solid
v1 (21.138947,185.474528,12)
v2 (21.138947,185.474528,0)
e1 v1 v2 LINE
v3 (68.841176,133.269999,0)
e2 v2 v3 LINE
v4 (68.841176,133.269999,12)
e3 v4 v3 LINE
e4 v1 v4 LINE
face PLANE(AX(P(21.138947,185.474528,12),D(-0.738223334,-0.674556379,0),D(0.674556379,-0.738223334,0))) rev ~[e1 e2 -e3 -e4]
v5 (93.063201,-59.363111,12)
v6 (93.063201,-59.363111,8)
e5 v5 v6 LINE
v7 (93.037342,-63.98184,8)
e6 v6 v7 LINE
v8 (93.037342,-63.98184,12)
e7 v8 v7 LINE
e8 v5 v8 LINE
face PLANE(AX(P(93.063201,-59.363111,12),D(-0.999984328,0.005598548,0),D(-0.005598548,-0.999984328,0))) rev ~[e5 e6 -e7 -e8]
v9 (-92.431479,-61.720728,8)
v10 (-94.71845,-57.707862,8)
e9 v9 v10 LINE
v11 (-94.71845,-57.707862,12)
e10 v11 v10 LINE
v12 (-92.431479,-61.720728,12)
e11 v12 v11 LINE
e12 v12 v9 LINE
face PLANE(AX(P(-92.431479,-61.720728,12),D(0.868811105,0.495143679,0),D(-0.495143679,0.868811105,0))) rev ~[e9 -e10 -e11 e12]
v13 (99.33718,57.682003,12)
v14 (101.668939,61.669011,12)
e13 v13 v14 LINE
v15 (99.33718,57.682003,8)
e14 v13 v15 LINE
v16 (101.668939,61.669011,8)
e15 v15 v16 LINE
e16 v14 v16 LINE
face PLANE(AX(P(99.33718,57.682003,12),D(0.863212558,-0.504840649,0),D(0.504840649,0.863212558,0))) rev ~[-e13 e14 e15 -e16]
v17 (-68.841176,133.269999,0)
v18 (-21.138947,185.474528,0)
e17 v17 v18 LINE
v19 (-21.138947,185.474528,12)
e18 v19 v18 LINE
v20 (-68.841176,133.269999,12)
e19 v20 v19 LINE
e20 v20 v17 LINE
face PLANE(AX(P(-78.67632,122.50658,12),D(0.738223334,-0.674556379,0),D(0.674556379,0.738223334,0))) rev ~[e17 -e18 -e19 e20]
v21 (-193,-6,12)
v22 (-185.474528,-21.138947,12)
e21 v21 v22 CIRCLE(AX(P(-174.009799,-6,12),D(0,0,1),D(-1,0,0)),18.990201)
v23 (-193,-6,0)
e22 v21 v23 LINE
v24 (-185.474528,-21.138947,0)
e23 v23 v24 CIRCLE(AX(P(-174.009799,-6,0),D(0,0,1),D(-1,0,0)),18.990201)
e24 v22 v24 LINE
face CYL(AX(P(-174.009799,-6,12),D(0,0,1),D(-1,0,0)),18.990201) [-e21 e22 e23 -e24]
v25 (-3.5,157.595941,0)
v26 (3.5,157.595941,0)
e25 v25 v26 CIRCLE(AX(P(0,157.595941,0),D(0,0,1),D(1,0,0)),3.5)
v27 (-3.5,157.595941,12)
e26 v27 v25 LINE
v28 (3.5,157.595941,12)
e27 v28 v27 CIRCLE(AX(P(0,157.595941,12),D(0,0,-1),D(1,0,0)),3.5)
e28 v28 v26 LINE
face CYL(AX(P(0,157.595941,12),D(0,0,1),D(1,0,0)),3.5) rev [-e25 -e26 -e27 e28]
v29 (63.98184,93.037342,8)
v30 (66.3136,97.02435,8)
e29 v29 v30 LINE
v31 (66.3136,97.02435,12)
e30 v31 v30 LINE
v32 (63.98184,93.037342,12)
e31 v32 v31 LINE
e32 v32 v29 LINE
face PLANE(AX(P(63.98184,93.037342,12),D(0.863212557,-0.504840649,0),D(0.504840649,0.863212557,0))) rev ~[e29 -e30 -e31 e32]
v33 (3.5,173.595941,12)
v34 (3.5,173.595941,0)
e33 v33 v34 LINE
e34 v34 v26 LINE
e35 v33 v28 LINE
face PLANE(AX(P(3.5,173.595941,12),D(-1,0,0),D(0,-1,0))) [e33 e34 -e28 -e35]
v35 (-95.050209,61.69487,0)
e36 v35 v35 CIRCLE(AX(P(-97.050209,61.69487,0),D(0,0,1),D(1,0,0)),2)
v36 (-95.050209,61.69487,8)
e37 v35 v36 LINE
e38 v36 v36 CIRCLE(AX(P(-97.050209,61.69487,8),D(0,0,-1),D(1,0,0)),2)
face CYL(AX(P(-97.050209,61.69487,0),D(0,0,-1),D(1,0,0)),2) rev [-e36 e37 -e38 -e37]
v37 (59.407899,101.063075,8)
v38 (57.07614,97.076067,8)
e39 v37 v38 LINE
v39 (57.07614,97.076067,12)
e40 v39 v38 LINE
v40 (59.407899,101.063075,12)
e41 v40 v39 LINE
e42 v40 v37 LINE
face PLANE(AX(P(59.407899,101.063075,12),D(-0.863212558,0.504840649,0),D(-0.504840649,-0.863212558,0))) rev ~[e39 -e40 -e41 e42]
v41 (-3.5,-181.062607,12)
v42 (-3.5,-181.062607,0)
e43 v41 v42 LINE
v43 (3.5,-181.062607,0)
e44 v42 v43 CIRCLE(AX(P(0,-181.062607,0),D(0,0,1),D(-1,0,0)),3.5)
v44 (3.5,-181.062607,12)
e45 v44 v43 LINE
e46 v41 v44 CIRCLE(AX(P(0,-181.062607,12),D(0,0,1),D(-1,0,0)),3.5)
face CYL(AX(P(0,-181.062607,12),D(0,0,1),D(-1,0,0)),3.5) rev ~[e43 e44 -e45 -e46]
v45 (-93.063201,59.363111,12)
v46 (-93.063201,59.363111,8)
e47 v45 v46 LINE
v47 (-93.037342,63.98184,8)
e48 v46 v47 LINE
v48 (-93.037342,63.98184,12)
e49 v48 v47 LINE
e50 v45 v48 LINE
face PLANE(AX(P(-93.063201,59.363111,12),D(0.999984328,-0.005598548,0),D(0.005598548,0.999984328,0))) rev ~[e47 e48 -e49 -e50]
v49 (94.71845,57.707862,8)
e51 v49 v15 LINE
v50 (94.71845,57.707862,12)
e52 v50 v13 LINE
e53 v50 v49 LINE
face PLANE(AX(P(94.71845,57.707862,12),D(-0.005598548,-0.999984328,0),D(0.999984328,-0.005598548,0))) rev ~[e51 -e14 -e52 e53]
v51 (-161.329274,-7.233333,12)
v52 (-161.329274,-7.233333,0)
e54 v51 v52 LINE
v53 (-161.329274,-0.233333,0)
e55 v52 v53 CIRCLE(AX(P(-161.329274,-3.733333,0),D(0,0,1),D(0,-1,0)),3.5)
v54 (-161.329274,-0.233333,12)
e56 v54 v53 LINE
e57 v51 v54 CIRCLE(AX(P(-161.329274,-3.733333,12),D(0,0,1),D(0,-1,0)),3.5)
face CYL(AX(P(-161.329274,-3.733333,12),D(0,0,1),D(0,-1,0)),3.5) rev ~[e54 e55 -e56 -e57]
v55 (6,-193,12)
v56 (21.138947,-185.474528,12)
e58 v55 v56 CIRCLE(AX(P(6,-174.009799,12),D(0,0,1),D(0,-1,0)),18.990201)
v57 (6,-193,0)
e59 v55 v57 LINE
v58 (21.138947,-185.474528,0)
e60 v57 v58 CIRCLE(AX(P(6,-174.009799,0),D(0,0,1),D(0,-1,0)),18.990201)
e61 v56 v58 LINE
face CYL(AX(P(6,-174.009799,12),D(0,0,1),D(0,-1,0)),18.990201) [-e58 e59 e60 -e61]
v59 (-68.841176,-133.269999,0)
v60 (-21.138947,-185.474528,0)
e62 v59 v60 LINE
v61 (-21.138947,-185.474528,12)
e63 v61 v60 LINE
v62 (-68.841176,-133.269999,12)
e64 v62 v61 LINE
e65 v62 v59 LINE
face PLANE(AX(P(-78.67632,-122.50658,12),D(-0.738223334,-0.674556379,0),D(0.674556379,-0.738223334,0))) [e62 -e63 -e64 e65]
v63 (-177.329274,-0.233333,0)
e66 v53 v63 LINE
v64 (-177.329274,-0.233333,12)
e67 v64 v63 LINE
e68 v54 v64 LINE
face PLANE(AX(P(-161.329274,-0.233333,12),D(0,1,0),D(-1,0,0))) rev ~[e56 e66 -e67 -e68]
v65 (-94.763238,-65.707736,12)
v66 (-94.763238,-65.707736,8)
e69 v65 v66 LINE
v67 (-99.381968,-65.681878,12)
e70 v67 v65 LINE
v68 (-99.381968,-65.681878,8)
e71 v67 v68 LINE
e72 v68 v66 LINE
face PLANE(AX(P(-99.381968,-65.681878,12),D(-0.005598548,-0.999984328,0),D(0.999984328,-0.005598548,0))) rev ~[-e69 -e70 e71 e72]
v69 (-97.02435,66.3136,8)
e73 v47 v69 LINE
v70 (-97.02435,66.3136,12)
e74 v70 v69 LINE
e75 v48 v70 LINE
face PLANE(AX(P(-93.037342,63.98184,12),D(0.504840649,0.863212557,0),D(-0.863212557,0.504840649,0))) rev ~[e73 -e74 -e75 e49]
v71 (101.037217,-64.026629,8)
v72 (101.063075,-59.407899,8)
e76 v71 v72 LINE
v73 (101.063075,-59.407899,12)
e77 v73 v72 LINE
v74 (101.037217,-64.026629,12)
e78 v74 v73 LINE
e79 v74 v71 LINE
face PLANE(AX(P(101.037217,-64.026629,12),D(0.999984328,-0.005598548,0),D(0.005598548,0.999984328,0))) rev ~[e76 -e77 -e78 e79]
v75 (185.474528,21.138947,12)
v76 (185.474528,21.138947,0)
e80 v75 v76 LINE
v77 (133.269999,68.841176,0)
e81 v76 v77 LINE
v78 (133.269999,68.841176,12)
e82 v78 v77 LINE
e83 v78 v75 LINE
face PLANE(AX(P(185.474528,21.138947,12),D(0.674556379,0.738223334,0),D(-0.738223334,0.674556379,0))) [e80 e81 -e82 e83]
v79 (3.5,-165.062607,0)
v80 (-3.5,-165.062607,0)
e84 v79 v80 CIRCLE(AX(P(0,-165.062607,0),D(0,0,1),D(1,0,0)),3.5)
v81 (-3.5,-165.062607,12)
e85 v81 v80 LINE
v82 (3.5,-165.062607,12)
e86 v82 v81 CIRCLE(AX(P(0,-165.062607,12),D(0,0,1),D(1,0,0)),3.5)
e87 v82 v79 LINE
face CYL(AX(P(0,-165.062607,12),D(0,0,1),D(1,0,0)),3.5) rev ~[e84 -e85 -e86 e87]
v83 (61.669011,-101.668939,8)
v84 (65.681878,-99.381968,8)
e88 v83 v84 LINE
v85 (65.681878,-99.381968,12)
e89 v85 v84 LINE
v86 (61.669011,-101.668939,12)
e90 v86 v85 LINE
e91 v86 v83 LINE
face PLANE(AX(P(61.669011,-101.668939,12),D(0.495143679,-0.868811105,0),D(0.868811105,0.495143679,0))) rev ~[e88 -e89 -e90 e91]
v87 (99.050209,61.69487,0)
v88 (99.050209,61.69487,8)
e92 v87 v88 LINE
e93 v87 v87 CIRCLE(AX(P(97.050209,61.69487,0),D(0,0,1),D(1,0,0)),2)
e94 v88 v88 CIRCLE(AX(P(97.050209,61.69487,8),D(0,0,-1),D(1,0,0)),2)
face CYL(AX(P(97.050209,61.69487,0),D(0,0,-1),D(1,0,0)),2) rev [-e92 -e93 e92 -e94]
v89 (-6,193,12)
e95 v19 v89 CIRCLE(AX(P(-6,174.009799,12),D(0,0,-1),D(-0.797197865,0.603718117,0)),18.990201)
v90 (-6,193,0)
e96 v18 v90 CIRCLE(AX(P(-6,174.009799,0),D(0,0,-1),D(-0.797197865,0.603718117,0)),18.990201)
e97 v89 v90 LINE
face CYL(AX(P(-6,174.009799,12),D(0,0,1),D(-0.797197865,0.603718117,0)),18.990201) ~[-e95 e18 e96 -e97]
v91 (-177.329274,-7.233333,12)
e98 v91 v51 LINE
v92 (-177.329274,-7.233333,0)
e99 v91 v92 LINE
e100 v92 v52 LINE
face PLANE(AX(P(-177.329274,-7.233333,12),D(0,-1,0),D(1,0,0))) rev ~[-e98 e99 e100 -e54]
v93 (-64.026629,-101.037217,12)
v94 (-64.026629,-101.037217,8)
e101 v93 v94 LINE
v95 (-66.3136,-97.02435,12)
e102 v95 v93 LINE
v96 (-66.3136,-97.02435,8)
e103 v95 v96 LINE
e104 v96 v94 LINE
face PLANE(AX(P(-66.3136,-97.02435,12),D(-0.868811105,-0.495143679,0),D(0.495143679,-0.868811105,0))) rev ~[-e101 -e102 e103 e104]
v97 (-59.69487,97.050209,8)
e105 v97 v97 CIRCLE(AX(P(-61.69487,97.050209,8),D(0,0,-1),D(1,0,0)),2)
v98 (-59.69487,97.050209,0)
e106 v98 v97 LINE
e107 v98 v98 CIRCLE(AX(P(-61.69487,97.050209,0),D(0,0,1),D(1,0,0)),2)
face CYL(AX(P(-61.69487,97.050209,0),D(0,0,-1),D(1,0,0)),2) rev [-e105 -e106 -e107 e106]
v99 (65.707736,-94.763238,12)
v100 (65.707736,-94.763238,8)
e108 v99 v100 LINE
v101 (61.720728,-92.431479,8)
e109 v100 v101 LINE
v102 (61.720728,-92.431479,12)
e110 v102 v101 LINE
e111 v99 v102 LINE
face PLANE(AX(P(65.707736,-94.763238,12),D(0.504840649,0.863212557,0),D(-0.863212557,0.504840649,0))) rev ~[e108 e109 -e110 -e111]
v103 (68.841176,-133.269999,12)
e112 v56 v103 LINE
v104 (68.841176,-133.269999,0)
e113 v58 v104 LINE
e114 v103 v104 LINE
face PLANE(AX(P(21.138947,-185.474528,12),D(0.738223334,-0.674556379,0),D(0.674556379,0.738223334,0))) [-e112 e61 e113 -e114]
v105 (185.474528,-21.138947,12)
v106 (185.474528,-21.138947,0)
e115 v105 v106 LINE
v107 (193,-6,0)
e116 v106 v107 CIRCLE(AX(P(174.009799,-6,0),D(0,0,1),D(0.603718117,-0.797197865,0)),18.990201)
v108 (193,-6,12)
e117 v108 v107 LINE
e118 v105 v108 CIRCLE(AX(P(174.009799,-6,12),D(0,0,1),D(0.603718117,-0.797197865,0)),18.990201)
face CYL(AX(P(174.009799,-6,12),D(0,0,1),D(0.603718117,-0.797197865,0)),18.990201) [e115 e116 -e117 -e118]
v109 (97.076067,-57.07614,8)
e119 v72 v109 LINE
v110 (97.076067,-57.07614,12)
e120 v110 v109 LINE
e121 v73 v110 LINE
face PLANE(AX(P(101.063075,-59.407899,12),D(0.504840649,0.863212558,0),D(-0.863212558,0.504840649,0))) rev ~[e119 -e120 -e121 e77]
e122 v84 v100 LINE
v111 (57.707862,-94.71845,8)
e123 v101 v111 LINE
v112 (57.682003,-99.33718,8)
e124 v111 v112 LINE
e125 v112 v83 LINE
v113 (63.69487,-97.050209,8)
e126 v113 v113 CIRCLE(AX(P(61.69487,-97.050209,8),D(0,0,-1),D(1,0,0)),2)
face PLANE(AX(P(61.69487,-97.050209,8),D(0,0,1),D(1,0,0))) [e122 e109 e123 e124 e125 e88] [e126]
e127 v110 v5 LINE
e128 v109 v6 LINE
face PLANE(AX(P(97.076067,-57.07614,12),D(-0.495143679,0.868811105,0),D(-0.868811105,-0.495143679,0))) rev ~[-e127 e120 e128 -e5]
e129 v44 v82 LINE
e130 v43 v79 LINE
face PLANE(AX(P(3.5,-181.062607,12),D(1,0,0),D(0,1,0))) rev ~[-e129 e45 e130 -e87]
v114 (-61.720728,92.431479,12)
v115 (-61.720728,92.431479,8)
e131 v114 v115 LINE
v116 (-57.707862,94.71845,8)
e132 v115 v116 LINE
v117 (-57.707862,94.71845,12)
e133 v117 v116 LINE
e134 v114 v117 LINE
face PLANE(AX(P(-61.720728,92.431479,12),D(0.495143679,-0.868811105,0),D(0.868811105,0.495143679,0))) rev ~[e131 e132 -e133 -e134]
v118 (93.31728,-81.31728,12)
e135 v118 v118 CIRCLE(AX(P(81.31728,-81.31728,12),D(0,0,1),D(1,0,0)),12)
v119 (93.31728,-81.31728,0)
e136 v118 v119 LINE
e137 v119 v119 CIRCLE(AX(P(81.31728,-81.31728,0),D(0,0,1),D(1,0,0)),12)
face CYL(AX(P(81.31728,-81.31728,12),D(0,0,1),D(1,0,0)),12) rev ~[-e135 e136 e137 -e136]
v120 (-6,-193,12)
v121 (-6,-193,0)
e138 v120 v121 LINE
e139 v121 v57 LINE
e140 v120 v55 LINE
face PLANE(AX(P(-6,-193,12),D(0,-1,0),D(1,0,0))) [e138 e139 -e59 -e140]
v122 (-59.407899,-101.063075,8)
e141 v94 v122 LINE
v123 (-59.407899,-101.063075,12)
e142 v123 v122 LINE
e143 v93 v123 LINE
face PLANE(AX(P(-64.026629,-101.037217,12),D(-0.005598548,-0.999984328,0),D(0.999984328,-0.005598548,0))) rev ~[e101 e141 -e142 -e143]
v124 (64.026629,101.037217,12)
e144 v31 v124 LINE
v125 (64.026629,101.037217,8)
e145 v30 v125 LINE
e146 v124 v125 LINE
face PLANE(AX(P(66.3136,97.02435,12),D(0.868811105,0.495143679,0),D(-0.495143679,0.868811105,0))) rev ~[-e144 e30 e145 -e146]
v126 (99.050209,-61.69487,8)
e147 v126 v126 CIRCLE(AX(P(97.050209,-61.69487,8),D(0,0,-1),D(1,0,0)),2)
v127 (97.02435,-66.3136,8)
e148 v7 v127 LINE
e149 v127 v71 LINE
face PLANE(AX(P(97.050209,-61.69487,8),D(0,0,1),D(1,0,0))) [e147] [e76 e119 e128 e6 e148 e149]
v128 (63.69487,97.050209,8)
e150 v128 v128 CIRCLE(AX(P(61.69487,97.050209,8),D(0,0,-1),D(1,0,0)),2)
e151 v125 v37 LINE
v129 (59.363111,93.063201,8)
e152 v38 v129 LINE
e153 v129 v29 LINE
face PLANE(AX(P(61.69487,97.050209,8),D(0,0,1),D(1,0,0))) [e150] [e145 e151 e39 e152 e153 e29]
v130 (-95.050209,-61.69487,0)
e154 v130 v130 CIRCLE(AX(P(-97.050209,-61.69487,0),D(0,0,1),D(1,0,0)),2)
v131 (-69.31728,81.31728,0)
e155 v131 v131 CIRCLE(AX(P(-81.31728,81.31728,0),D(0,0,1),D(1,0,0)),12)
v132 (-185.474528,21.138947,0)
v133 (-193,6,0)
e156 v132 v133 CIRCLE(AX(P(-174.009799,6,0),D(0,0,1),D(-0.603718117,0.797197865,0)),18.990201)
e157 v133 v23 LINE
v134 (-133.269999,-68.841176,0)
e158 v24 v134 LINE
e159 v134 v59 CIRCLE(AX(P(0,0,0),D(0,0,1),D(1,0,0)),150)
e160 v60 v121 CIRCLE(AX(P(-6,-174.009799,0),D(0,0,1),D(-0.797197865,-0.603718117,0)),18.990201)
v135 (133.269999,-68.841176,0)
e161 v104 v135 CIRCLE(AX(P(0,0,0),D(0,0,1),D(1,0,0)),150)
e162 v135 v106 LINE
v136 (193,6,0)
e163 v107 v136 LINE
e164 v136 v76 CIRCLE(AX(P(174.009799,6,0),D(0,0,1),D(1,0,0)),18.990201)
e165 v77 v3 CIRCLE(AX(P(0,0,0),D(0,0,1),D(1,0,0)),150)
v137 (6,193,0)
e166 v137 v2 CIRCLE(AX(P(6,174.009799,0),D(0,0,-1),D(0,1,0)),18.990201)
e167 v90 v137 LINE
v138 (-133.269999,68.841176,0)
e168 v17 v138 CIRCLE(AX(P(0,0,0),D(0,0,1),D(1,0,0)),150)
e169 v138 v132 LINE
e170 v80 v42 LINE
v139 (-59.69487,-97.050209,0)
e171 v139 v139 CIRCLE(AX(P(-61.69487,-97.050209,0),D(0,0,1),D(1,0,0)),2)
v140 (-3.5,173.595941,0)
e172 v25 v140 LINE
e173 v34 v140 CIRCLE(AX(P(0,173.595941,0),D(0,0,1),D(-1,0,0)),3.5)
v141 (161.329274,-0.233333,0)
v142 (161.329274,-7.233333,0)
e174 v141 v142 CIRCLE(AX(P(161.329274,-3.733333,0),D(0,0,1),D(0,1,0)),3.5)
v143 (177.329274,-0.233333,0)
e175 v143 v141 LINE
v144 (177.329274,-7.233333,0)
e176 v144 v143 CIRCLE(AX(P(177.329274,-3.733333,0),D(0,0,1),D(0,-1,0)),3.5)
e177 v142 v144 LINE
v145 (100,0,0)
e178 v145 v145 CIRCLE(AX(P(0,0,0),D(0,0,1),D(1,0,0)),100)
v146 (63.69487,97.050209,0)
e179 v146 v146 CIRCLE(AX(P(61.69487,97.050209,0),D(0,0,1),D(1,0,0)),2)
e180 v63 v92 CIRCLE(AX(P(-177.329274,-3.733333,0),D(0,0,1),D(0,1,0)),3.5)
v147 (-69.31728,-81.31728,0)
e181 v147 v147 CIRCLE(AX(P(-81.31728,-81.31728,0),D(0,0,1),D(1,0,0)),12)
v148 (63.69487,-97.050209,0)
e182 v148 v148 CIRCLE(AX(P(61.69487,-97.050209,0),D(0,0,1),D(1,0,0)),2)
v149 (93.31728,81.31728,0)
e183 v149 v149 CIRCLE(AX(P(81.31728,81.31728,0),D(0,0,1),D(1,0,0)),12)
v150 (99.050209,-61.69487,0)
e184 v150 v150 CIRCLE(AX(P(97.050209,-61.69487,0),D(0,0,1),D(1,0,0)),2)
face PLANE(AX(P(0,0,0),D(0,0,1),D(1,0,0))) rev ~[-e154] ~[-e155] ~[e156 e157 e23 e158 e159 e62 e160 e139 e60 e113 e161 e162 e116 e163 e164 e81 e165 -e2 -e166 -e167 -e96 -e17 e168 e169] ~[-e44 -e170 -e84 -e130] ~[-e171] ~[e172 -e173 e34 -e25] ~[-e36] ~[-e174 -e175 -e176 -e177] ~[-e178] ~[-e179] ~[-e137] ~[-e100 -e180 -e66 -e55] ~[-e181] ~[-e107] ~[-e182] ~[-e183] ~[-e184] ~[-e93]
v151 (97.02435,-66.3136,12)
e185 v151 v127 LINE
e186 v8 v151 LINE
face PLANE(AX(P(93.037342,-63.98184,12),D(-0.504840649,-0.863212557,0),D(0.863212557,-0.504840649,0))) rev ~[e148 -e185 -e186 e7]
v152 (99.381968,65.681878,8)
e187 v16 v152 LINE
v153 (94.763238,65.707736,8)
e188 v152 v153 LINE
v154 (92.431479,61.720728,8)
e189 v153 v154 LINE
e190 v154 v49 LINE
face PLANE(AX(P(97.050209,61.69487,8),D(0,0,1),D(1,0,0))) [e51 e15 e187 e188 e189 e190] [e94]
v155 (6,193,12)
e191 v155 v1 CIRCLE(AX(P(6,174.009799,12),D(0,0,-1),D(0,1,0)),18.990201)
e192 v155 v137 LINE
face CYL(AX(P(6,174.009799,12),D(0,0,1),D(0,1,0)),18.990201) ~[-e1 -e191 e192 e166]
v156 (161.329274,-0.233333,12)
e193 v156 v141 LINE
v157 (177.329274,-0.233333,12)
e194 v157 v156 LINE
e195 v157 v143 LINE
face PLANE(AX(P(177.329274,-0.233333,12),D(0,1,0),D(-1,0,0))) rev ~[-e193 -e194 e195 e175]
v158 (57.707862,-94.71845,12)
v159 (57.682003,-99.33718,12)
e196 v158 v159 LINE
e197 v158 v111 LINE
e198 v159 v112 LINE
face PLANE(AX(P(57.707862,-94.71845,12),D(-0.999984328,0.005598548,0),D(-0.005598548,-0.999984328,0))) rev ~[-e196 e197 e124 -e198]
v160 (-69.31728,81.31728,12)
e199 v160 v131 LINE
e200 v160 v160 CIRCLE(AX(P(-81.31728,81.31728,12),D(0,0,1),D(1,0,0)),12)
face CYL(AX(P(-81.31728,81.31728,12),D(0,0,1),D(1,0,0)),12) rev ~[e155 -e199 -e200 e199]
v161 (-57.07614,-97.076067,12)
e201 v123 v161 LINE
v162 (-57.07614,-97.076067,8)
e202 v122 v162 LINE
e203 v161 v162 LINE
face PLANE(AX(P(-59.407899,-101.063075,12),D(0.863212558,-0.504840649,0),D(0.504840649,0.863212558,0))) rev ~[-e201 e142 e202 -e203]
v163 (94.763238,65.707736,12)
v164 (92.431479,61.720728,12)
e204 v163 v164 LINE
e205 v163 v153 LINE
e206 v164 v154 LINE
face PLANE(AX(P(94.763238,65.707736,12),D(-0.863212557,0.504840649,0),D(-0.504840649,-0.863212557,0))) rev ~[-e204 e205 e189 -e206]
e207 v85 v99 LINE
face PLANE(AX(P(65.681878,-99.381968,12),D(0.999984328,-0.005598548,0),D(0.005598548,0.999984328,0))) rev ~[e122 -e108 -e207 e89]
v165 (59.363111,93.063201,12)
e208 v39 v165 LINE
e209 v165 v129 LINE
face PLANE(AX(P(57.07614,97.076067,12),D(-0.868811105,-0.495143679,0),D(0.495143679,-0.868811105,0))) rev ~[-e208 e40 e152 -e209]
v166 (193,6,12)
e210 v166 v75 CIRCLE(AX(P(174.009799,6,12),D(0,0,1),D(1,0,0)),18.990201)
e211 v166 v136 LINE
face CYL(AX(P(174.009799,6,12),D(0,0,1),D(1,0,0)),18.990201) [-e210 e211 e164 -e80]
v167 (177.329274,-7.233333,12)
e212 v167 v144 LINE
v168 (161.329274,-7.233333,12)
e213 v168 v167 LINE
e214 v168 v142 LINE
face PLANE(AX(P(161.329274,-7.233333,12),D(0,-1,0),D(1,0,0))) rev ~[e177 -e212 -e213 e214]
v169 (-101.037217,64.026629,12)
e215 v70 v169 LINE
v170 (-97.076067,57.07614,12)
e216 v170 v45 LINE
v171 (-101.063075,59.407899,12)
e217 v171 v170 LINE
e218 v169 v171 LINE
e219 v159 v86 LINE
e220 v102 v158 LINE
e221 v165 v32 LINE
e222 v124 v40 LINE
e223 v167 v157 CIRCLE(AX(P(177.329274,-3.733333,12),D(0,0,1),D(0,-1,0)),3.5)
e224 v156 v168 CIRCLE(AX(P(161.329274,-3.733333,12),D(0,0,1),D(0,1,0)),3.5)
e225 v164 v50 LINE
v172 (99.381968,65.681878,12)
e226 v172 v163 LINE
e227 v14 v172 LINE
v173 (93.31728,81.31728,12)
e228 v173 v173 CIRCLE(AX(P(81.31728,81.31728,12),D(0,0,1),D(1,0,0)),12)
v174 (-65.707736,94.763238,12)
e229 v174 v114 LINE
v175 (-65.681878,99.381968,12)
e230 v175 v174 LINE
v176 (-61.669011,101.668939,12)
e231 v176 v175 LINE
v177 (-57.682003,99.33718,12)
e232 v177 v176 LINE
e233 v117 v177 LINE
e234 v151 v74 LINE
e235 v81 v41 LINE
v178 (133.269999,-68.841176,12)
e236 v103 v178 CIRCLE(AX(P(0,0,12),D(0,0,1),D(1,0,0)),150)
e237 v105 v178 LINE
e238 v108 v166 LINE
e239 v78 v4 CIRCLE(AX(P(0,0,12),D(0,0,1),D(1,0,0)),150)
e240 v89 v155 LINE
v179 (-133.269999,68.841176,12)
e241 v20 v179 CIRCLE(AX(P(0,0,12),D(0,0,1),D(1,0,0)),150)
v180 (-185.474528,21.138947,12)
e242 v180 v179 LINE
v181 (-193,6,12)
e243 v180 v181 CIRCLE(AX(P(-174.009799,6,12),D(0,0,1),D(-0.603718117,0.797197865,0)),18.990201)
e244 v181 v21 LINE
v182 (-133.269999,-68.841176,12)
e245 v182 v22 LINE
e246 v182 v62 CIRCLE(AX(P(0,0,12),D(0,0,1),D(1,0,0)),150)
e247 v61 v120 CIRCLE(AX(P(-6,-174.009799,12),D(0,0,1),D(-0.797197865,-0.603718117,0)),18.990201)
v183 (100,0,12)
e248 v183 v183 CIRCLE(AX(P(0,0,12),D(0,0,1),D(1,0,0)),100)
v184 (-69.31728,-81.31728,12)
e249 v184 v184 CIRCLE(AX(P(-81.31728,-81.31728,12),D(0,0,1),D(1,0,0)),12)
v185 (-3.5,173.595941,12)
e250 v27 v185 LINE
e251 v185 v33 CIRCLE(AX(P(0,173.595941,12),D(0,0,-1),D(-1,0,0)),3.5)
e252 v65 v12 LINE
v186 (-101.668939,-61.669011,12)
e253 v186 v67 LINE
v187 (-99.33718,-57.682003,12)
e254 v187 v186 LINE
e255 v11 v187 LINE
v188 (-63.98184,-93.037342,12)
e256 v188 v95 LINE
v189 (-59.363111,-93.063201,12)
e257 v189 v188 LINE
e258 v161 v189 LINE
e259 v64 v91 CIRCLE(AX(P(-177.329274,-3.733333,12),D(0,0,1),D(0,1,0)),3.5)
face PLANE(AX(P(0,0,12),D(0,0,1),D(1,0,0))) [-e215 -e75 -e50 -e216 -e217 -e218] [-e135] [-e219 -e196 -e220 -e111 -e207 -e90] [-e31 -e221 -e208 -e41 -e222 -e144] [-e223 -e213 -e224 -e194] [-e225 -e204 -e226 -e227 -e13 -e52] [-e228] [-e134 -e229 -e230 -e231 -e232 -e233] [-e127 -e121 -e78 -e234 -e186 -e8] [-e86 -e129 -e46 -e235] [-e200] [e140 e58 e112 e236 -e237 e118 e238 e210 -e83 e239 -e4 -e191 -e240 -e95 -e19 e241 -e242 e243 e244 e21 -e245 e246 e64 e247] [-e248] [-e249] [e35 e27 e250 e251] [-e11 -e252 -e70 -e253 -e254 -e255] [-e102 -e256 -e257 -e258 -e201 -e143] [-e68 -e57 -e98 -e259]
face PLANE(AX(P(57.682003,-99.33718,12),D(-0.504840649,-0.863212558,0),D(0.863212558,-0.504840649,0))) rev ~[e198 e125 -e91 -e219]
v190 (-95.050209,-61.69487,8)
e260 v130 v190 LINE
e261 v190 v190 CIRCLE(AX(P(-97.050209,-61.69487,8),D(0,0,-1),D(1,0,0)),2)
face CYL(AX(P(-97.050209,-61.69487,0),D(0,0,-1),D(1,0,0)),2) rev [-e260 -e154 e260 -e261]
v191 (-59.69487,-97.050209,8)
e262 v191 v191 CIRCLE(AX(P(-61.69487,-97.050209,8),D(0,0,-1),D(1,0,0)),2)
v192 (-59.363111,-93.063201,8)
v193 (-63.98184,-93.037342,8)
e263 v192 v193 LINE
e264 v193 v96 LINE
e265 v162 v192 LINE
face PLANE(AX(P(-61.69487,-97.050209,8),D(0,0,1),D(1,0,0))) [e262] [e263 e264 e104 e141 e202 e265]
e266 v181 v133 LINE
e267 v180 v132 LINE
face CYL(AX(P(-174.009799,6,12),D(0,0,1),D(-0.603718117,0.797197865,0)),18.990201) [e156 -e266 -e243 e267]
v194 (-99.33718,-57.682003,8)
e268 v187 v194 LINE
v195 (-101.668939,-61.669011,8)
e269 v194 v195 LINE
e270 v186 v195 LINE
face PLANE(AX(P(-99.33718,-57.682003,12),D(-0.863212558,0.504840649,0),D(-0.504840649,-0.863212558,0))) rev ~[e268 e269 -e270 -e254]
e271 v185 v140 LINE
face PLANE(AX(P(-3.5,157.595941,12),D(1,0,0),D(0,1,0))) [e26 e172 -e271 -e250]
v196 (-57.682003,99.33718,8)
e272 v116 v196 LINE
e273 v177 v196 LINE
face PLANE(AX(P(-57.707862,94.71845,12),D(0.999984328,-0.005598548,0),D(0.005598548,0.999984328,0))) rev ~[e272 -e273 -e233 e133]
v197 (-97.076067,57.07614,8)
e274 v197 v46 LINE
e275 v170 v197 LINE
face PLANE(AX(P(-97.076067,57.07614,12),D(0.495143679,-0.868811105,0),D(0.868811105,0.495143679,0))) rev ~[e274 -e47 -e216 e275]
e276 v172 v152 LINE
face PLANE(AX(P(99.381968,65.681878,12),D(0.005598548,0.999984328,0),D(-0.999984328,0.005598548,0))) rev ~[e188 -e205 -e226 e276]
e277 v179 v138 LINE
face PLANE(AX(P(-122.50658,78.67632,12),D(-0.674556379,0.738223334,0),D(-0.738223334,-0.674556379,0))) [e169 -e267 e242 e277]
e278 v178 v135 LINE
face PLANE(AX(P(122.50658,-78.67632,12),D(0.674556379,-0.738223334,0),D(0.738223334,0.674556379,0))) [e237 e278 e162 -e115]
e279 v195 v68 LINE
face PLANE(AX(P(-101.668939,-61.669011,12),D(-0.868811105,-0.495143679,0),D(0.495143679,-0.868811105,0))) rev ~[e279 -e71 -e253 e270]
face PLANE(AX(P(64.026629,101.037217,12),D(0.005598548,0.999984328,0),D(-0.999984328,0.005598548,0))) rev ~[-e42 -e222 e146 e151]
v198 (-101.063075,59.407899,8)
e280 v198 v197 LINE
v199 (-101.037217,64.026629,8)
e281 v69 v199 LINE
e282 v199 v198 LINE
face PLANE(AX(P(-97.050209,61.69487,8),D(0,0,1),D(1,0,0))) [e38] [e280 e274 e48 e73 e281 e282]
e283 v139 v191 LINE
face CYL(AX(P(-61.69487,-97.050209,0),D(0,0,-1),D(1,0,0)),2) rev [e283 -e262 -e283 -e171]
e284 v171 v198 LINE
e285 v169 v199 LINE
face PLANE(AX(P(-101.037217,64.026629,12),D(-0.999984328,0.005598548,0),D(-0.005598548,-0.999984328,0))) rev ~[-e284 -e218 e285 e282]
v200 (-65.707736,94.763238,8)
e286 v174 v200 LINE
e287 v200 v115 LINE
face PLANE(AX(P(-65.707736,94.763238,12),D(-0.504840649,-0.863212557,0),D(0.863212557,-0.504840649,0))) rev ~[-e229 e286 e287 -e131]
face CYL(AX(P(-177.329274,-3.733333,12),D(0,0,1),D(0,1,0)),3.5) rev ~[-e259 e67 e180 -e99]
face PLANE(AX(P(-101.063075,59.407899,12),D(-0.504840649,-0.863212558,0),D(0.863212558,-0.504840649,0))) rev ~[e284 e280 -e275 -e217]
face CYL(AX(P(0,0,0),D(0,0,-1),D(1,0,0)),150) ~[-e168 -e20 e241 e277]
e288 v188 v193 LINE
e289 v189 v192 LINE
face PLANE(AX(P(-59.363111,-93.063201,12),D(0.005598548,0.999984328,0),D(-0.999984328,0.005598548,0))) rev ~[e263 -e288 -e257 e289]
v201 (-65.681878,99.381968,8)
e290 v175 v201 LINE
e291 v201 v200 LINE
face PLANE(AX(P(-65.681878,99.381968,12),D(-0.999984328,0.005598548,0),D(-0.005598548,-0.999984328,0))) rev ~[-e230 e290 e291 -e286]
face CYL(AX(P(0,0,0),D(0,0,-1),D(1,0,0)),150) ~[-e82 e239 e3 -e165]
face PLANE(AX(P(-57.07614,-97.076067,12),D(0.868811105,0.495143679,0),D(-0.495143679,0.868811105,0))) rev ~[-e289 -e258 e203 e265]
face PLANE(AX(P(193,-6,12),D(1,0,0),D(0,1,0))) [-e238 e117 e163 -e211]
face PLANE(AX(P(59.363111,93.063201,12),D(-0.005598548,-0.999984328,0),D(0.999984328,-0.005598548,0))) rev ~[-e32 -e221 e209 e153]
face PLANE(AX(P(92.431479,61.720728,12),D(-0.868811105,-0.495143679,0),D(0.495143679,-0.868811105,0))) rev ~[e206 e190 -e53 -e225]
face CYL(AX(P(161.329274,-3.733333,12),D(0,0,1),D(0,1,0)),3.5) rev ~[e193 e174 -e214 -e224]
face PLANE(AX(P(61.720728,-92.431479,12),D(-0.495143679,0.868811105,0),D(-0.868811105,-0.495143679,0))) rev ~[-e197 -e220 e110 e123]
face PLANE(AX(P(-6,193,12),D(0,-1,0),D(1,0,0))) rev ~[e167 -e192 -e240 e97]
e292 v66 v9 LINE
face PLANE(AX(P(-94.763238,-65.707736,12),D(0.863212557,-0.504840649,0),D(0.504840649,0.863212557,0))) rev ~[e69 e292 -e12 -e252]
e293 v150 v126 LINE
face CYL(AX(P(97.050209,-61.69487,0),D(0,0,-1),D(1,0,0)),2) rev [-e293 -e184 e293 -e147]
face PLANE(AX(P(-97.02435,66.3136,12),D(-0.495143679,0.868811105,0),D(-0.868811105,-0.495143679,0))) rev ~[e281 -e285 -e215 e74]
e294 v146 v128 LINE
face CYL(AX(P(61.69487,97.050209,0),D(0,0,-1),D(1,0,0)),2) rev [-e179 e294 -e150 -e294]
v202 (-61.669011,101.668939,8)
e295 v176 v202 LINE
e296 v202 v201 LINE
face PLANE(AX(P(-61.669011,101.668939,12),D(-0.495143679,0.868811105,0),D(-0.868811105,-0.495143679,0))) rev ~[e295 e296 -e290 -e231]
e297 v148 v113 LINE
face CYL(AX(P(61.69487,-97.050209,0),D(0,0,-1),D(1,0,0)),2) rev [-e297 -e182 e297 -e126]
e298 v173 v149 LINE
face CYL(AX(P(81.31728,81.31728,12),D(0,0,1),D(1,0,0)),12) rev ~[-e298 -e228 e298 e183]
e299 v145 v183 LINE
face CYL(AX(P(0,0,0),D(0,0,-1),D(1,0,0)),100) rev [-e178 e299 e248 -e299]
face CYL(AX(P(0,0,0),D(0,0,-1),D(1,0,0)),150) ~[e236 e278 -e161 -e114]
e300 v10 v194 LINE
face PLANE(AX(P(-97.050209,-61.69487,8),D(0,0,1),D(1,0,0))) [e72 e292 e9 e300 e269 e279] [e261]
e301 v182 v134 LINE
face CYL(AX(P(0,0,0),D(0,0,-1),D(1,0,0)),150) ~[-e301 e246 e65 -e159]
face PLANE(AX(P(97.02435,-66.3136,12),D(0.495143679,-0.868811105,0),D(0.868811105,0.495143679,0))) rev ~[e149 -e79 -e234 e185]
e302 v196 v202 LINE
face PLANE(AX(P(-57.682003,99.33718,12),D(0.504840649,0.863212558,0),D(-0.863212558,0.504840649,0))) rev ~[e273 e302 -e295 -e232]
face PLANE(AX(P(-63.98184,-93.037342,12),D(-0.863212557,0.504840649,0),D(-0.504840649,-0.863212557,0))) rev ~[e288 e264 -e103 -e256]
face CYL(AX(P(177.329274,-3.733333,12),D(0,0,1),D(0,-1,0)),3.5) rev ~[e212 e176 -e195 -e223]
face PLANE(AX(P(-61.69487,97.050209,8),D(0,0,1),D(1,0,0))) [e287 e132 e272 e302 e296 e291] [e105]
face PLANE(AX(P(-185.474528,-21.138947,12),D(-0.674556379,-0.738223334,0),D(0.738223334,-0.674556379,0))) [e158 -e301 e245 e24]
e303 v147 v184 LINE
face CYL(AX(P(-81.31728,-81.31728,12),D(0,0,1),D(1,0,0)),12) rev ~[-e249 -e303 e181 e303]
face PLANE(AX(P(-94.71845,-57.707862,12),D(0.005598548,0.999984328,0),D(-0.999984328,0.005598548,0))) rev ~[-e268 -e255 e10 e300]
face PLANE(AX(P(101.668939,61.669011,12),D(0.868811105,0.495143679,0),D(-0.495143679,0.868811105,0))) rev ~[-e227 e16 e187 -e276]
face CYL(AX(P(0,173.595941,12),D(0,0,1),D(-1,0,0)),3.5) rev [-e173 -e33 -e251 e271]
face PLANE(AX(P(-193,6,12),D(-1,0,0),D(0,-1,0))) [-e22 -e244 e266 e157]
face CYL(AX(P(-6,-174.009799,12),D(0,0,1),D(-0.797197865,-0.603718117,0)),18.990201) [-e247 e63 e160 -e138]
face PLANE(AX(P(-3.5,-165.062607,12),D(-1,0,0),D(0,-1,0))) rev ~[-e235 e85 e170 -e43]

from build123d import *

# Parameters (mm, degrees)
ESQUISSE1_R             = 150
ESQUISSE1_R_2           = 100
BOSS_EXTRU_1_DEPTH      = 12
ESQUISSE2_R             = 17.5
BOSS_EXTRU_2_DEPTH      = 12
ESQUISSE3_R             = 10.5
BOSS_EXTRU_3_DEPTH      = 9
BOSS_EXTRU_4_DEPTH      = 12
BOSS_EXTRU_5_DEPTH      = 12
ENL_V_MAT_EXTRU_1_DEPTH = 274.749885845
ESQUISSE7_W             = 331.776450303
ESQUISSE7_H             = 53.126777449
ENL_V_MAT_EXTRU_2_DEPTH = 286
ESQUISSE8_R             = 12
ENL_V_MAT_EXTRU_3_DEPTH = 286
ENL_V_START             = 12
ENL_V_MAT_EXTRU_5_DEPTH = 4
ESQUISSE11_R            = 2
ENL_V_MAT_EXTRU_6_DEPTH = 10


with BuildPart() as part:
    # Esquisse1 → Boss.-Extru.1 (new body)
    with BuildSketch(Plane.XY):
        Circle(ESQUISSE1_R)
        Circle(ESQUISSE1_R_2, mode=Mode.SUBTRACT)
    extrude(amount=BOSS_EXTRU_1_DEPTH)

    # Esquisse2 → Boss.-Extru.2 (add)
    with BuildSketch(Plane.XY.offset(12)):
        with Locations((0, 125)):
            Circle(ESQUISSE2_R)
        with Locations((73.473156537, 101.127124297)):
            Circle(ESQUISSE2_R)
        with Locations((118.882064537, 38.627124297)):
            Circle(ESQUISSE2_R)
        with Locations((118.882064537, -38.627124297)):
            Circle(ESQUISSE2_R)
        with Locations((73.473156537, -101.127124297)):
            Circle(ESQUISSE2_R)
        with Locations((0, -125)):
            Circle(ESQUISSE2_R)
        with Locations((-73.473156537, -101.127124297)):
            Circle(ESQUISSE2_R)
        with Locations((-118.882064537, -38.627124297)):
            Circle(ESQUISSE2_R)
        with Locations((-118.882064537, 38.627124297)):
            Circle(ESQUISSE2_R)
        with Locations((-73.473156537, 101.127124297)):
            Circle(ESQUISSE2_R)
    extrude(amount=BOSS_EXTRU_2_DEPTH)

    # Esquisse3 → Boss.-Extru.3 (add)
    with BuildSketch(Plane.XY.offset(24)):
        with Locations((0, 125)):
            Circle(ESQUISSE3_R)
        with Locations((73.473156537, 101.127124297)):
            Circle(ESQUISSE3_R)
        with Locations((118.882064537, 38.627124297)):
            Circle(ESQUISSE3_R)
        with Locations((118.882064537, -38.627124297)):
            Circle(ESQUISSE3_R)
        with Locations((73.473156537, -101.127124297)):
            Circle(ESQUISSE3_R)
        with Locations((0, -125)):
            Circle(ESQUISSE3_R)
        with Locations((-73.473156537, -101.127124297)):
            Circle(ESQUISSE3_R)
        with Locations((-118.882064537, -38.627124297)):
            Circle(ESQUISSE3_R)
        with Locations((-118.882064537, 38.627124297)):
            Circle(ESQUISSE3_R)
        with Locations((-73.473156537, 101.127124297)):
            Circle(ESQUISSE3_R)
    extrude(amount=BOSS_EXTRU_3_DEPTH)

    # Esquisse4 → Boss.-Extru.4 (add)
    # profile 1 of 4: a face of its own
    with BuildSketch(Plane.XY.offset(12)):
        with BuildLine():
            Line((-14, 145), (-14, 185))
            ThreePointArc((-14, 185), (-11.656854249, 190.656854249), (-6, 193))
            Line((-6, 193), (6, 193))
            ThreePointArc((6, 193), (11.656854249, 190.656854249), (14, 185))
            Line((14, 185), (14, 145))
            Line((14, 145), (-14, 145))
        make_face()
        with BuildLine():
            Line((-3.75, 154.53605372), (-3.75, 184.53605372))
            ThreePointArc((-3.75, 184.53605372), (0, 188.28605372), (3.75, 184.53605372))
            Line((3.75, 184.53605372), (3.75, 154.53605372))
            ThreePointArc((3.75, 154.53605372), (0, 150.78605372), (-3.75, 154.53605372))
        make_face(mode=Mode.SUBTRACT)
    # profile 2 of 4: a face of its own
    with BuildSketch(Plane.XY.offset(12)):
        with BuildLine():
            Line((145, 14), (145, -14))
            Line((145, -14), (185, -14))
            ThreePointArc((185, -14), (190.656854249, -11.656854249), (193, -6))
            Line((193, -6), (193, 6))
            ThreePointArc((193, 6), (190.656854249, 11.65685425), (185, 14))
            Line((185, 14), (145, 14))
        make_face()
        with BuildLine():
            Line((154.53605372, -3.75), (184.53605372, -3.75))
            ThreePointArc((184.53605372, -3.75), (188.28605372, 0), (184.53605372, 3.75))
            Line((184.53605372, 3.75), (154.53605372, 3.75))
            ThreePointArc((154.53605372, 3.75), (150.78605372, 0), (154.53605372, -3.75))
        make_face(mode=Mode.SUBTRACT)
    # profile 3 of 4: a face of its own
    with BuildSketch(Plane.XY.offset(12)):
        with BuildLine():
            Line((14, -145), (-14, -145))
            Line((-14, -145), (-14, -185))
            ThreePointArc((-14, -185), (-11.656854249, -190.656854249), (-6, -193))
            Line((-6, -193), (6, -193))
            ThreePointArc((6, -193), (11.656854249, -190.656854249), (14, -185))
            Line((14, -185), (14, -145))
        make_face()
        with BuildLine():
            Line((-3.75, -154.53605372), (-3.75, -184.53605372))
            ThreePointArc((-3.75, -184.53605372), (0, -188.28605372), (3.75, -184.53605372))
            Line((3.75, -184.53605372), (3.75, -154.53605372))
            ThreePointArc((3.75, -154.53605372), (0, -150.78605372), (-3.75, -154.53605372))
        make_face(mode=Mode.SUBTRACT)
    # profile 4 of 4: a face of its own
    with BuildSketch(Plane.XY.offset(12)):
        with BuildLine():
            Line((-145, -14), (-145, 14))
            Line((-145, 14), (-185, 14))
            ThreePointArc((-185, 14), (-190.656854249, 11.65685425), (-193, 6))
            Line((-193, 6), (-193, -6))
            ThreePointArc((-193, -6), (-190.656854249, -11.656854249), (-185, -14))
            Line((-185, -14), (-145, -14))
        make_face()
        with BuildLine():
            Line((-154.53605372, 3.75), (-184.53605372, 3.75))
            ThreePointArc((-184.53605372, 3.75), (-188.28605372, 0), (-184.53605372, -3.75))
            Line((-184.53605372, -3.75), (-154.53605372, -3.75))
            ThreePointArc((-154.53605372, -3.75), (-150.78605372, 0), (-154.53605372, 3.75))
        make_face(mode=Mode.SUBTRACT)
    extrude(amount=-BOSS_EXTRU_4_DEPTH)

    # Esquisse5 → Boss.-Extru.5 (add)
    with BuildSketch(Plane.XY.offset(12)):
        with BuildLine():
            Line((-6, 193), (6, 193))
            ThreePointArc((6, 193), (14.453112805, 191.014875198), (21.138947402, 185.474527528))
            Line((21.138947402, 185.474527528), (78.676319934, 122.506579561))
            Line((78.676319934, 122.506579561), (0, 146.402607913))
            Line((0, 146.402607913), (-78.676319934, 122.506579561))
            Line((-78.676319934, 122.506579561), (-21.138947402, 185.474527528))
            ThreePointArc((-21.138947402, 185.474527528), (-14.453112805, 191.014875198), (-6, 193))
        make_face()
        with BuildLine():
            Line((146.402607913, 0), (122.506579561, -78.676319934))
            Line((122.506579561, -78.676319934), (185.474527528, -21.138947402))
            ThreePointArc((185.474527528, -21.138947402), (191.014875198, -14.453112805), (193, -6))
            Line((193, -6), (193, 6))
            ThreePointArc((193, 6), (191.014875198, 14.453112805), (185.474527528, 21.138947402))
            Line((185.474527528, 21.138947402), (122.506579561, 78.676319934))
            Line((122.506579561, 78.676319934), (146.402607913, 0))
        make_face()
        with BuildLine():
            Line((0, -146.402607913), (-78.676319934, -122.506579561))
            Line((-78.676319934, -122.506579561), (-21.138947402, -185.474527528))
            ThreePointArc((-21.138947402, -185.474527528), (-14.453112805, -191.014875198), (-6, -193))
            Line((-6, -193), (6, -193))
            ThreePointArc((6, -193), (14.453112805, -191.014875198), (21.138947402, -185.474527528))
            Line((21.138947402, -185.474527528), (78.676319934, -122.506579561))
            Line((78.676319934, -122.506579561), (0, -146.402607913))
        make_face()
        with BuildLine():
            Line((-146.402607913, 0), (-122.506579561, 78.676319934))
            Line((-122.506579561, 78.676319934), (-185.474527528, 21.138947402))
            ThreePointArc((-185.474527528, 21.138947402), (-191.014875198, 14.453112805), (-193, 6))
            Line((-193, 6), (-193, -6))
            ThreePointArc((-193, -6), (-191.014875198, -14.453112805), (-185.474527528, -21.138947402))
            Line((-185.474527528, -21.138947402), (-122.506579561, -78.676319934))
            Line((-122.506579561, -78.676319934), (-146.402607913, 0))
        make_face()
    extrude(amount=-BOSS_EXTRU_5_DEPTH)

    # Esquisse6 → Enlèv. mat.-Extru.1 (cut, through all)
    with BuildSketch(Plane.XY.offset(12)):
        with BuildLine():
            Line((-3.5, 157.595940505), (-3.5, 173.595940505))
            ThreePointArc((-3.5, 173.595940505), (0, 177.095940505), (3.5, 173.595940505))
            Line((3.5, 173.595940505), (3.5, 157.595940505))
            ThreePointArc((3.5, 157.595940505), (0, 154.095940505), (-3.5, 157.595940505))
        make_face()
        with BuildLine():
            Line((161.329273839, -7.233333333), (177.329273839, -7.233333333))
            ThreePointArc((177.329273839, -7.233333333), (180.829273839, -3.733333333), (177.329273839, -0.233333333))
            Line((177.329273839, -0.233333333), (161.329273839, -0.233333333))
            ThreePointArc((161.329273839, -0.233333333), (157.829273839, -3.733333333), (161.329273839, -7.233333333))
        make_face()
        with BuildLine():
            Line((-3.5, -165.062607172), (-3.5, -181.062607172))
            ThreePointArc((-3.5, -181.062607172), (0, -184.562607172), (3.5, -181.062607172))
            Line((3.5, -181.062607172), (3.5, -165.062607172))
            ThreePointArc((3.5, -165.062607172), (0, -161.562607172), (-3.5, -165.062607172))
        make_face()
        with BuildLine():
            Line((-161.329273838, -0.233333333), (-177.329273838, -0.233333333))
            ThreePointArc((-177.329273838, -0.233333333), (-180.829273838, -3.733333333), (-177.329273838, -7.233333333))
            Line((-177.329273838, -7.233333333), (-161.329273838, -7.233333333))
            ThreePointArc((-161.329273838, -7.233333333), (-157.829273838, -3.733333333), (-161.329273838, -0.233333333))
        make_face()
    extrude(amount=-ENL_V_MAT_EXTRU_1_DEPTH, mode=Mode.SUBTRACT)

    # Esquisse7 → Enlèv. mat.-Extru.2 (cut, symmetric)
    with BuildSketch(Plane(origin=(0, 0, 0), x_dir=(1, 0, 0), z_dir=(0, 1, 0))):
        with Locations((9.877314169, -38.563388725)):
            Rectangle(ESQUISSE7_W, ESQUISSE7_H)
    extrude(amount=ENL_V_MAT_EXTRU_2_DEPTH, both=True, mode=Mode.SUBTRACT)

    # Esquisse8 → Enlèv. mat.-Extru.3 (cut, symmetric)
    with BuildSketch(Plane.XY.offset(12)):
        with Locations((81.317279836, 81.317279836)):
            Circle(ESQUISSE8_R)
        with Locations((-81.317279836, 81.317279836)):
            Circle(ESQUISSE8_R)
        with Locations((81.317279836, -81.317279836)):
            Circle(ESQUISSE8_R)
        with Locations((-81.317279836, -81.317279836)):
            Circle(ESQUISSE8_R)
    extrude(amount=ENL_V_MAT_EXTRU_3_DEPTH, both=True, mode=Mode.SUBTRACT)

    # Esquisse10 → Enlèv. mat.-Extru.5 (cut)
    with BuildSketch(Plane.XY.offset(ENL_V_START)):
        Polygon((-65.707736407, 94.76323817), (-61.720728388, 92.431479094), (-57.707861783, 94.718449786), (-57.682003198, 99.337179554), (-61.669011217, 101.668938629), (-65.681877822, 99.381967937), align=None)
        Polygon((-101.668938629, -61.669011217), (-99.381967937, -65.681877822), (-94.76323817, -65.707736407), (-92.431479094, -61.720728388), (-94.718449786, -57.707861783), (-99.337179554, -57.682003198), align=None)
        Polygon((-57.076140035, -97.076067447), (-59.363110727, -93.063200842), (-63.981840494, -93.037342257), (-66.31359957, -97.024350276), (-64.026628878, -101.037216881), (-59.40789911, -101.063075466), align=None)
        Polygon((-101.037216881, 64.026628878), (-101.063075466, 59.40789911), (-97.076067447, 57.076140035), (-93.063200842, 59.363110727), (-93.037342257, 63.981840494), (-97.024350276, 66.31359957), align=None)
        Polygon((94.76323817, 65.707736407), (92.431479094, 61.720728388), (94.718449786, 57.707861783), (99.337179554, 57.682003198), (101.668938629, 61.669011217), (99.381967937, 65.681877822), align=None)
        Polygon((64.026628878, 101.037216881), (59.40789911, 101.063075466), (57.076140035, 97.076067447), (59.363110727, 93.063200842), (63.981840494, 93.037342257), (66.31359957, 97.024350276), align=None)
        Polygon((65.707736407, -94.76323817), (61.720728388, -92.431479094), (57.707861783, -94.718449786), (57.682003198, -99.337179554), (61.669011217, -101.668938629), (65.681877822, -99.381967937), align=None)
        Polygon((101.037216881, -64.026628878), (101.063075466, -59.40789911), (97.076067447, -57.076140035), (93.063200842, -59.363110727), (93.037342257, -63.981840494), (97.024350276, -66.31359957), align=None)
    extrude(amount=-ENL_V_MAT_EXTRU_5_DEPTH, mode=Mode.SUBTRACT)

    # Esquisse11 → Enlèv. mat.-Extru.6 (cut)
    with BuildSketch(Plane.XY):
        with Locations((-97.050208862, -61.694869802)):
            Circle(ESQUISSE11_R)
        with Locations((-61.694869802, -97.050208862)):
            Circle(ESQUISSE11_R)
        with Locations((-61.694869802, 97.050208862)):
            Circle(ESQUISSE11_R)
        with Locations((-97.050208862, 61.694869802)):
            Circle(ESQUISSE11_R)
        with Locations((97.050208862, 61.694869802)):
            Circle(ESQUISSE11_R)
        with Locations((61.694869802, 97.050208862)):
            Circle(ESQUISSE11_R)
        with Locations((61.694869802, -97.050208862)):
            Circle(ESQUISSE11_R)
        with Locations((97.050208862, -61.694869802)):
            Circle(ESQUISSE11_R)
    extrude(amount=ENL_V_MAT_EXTRU_6_DEPTH, mode=Mode.SUBTRACT)


solid = part.part
